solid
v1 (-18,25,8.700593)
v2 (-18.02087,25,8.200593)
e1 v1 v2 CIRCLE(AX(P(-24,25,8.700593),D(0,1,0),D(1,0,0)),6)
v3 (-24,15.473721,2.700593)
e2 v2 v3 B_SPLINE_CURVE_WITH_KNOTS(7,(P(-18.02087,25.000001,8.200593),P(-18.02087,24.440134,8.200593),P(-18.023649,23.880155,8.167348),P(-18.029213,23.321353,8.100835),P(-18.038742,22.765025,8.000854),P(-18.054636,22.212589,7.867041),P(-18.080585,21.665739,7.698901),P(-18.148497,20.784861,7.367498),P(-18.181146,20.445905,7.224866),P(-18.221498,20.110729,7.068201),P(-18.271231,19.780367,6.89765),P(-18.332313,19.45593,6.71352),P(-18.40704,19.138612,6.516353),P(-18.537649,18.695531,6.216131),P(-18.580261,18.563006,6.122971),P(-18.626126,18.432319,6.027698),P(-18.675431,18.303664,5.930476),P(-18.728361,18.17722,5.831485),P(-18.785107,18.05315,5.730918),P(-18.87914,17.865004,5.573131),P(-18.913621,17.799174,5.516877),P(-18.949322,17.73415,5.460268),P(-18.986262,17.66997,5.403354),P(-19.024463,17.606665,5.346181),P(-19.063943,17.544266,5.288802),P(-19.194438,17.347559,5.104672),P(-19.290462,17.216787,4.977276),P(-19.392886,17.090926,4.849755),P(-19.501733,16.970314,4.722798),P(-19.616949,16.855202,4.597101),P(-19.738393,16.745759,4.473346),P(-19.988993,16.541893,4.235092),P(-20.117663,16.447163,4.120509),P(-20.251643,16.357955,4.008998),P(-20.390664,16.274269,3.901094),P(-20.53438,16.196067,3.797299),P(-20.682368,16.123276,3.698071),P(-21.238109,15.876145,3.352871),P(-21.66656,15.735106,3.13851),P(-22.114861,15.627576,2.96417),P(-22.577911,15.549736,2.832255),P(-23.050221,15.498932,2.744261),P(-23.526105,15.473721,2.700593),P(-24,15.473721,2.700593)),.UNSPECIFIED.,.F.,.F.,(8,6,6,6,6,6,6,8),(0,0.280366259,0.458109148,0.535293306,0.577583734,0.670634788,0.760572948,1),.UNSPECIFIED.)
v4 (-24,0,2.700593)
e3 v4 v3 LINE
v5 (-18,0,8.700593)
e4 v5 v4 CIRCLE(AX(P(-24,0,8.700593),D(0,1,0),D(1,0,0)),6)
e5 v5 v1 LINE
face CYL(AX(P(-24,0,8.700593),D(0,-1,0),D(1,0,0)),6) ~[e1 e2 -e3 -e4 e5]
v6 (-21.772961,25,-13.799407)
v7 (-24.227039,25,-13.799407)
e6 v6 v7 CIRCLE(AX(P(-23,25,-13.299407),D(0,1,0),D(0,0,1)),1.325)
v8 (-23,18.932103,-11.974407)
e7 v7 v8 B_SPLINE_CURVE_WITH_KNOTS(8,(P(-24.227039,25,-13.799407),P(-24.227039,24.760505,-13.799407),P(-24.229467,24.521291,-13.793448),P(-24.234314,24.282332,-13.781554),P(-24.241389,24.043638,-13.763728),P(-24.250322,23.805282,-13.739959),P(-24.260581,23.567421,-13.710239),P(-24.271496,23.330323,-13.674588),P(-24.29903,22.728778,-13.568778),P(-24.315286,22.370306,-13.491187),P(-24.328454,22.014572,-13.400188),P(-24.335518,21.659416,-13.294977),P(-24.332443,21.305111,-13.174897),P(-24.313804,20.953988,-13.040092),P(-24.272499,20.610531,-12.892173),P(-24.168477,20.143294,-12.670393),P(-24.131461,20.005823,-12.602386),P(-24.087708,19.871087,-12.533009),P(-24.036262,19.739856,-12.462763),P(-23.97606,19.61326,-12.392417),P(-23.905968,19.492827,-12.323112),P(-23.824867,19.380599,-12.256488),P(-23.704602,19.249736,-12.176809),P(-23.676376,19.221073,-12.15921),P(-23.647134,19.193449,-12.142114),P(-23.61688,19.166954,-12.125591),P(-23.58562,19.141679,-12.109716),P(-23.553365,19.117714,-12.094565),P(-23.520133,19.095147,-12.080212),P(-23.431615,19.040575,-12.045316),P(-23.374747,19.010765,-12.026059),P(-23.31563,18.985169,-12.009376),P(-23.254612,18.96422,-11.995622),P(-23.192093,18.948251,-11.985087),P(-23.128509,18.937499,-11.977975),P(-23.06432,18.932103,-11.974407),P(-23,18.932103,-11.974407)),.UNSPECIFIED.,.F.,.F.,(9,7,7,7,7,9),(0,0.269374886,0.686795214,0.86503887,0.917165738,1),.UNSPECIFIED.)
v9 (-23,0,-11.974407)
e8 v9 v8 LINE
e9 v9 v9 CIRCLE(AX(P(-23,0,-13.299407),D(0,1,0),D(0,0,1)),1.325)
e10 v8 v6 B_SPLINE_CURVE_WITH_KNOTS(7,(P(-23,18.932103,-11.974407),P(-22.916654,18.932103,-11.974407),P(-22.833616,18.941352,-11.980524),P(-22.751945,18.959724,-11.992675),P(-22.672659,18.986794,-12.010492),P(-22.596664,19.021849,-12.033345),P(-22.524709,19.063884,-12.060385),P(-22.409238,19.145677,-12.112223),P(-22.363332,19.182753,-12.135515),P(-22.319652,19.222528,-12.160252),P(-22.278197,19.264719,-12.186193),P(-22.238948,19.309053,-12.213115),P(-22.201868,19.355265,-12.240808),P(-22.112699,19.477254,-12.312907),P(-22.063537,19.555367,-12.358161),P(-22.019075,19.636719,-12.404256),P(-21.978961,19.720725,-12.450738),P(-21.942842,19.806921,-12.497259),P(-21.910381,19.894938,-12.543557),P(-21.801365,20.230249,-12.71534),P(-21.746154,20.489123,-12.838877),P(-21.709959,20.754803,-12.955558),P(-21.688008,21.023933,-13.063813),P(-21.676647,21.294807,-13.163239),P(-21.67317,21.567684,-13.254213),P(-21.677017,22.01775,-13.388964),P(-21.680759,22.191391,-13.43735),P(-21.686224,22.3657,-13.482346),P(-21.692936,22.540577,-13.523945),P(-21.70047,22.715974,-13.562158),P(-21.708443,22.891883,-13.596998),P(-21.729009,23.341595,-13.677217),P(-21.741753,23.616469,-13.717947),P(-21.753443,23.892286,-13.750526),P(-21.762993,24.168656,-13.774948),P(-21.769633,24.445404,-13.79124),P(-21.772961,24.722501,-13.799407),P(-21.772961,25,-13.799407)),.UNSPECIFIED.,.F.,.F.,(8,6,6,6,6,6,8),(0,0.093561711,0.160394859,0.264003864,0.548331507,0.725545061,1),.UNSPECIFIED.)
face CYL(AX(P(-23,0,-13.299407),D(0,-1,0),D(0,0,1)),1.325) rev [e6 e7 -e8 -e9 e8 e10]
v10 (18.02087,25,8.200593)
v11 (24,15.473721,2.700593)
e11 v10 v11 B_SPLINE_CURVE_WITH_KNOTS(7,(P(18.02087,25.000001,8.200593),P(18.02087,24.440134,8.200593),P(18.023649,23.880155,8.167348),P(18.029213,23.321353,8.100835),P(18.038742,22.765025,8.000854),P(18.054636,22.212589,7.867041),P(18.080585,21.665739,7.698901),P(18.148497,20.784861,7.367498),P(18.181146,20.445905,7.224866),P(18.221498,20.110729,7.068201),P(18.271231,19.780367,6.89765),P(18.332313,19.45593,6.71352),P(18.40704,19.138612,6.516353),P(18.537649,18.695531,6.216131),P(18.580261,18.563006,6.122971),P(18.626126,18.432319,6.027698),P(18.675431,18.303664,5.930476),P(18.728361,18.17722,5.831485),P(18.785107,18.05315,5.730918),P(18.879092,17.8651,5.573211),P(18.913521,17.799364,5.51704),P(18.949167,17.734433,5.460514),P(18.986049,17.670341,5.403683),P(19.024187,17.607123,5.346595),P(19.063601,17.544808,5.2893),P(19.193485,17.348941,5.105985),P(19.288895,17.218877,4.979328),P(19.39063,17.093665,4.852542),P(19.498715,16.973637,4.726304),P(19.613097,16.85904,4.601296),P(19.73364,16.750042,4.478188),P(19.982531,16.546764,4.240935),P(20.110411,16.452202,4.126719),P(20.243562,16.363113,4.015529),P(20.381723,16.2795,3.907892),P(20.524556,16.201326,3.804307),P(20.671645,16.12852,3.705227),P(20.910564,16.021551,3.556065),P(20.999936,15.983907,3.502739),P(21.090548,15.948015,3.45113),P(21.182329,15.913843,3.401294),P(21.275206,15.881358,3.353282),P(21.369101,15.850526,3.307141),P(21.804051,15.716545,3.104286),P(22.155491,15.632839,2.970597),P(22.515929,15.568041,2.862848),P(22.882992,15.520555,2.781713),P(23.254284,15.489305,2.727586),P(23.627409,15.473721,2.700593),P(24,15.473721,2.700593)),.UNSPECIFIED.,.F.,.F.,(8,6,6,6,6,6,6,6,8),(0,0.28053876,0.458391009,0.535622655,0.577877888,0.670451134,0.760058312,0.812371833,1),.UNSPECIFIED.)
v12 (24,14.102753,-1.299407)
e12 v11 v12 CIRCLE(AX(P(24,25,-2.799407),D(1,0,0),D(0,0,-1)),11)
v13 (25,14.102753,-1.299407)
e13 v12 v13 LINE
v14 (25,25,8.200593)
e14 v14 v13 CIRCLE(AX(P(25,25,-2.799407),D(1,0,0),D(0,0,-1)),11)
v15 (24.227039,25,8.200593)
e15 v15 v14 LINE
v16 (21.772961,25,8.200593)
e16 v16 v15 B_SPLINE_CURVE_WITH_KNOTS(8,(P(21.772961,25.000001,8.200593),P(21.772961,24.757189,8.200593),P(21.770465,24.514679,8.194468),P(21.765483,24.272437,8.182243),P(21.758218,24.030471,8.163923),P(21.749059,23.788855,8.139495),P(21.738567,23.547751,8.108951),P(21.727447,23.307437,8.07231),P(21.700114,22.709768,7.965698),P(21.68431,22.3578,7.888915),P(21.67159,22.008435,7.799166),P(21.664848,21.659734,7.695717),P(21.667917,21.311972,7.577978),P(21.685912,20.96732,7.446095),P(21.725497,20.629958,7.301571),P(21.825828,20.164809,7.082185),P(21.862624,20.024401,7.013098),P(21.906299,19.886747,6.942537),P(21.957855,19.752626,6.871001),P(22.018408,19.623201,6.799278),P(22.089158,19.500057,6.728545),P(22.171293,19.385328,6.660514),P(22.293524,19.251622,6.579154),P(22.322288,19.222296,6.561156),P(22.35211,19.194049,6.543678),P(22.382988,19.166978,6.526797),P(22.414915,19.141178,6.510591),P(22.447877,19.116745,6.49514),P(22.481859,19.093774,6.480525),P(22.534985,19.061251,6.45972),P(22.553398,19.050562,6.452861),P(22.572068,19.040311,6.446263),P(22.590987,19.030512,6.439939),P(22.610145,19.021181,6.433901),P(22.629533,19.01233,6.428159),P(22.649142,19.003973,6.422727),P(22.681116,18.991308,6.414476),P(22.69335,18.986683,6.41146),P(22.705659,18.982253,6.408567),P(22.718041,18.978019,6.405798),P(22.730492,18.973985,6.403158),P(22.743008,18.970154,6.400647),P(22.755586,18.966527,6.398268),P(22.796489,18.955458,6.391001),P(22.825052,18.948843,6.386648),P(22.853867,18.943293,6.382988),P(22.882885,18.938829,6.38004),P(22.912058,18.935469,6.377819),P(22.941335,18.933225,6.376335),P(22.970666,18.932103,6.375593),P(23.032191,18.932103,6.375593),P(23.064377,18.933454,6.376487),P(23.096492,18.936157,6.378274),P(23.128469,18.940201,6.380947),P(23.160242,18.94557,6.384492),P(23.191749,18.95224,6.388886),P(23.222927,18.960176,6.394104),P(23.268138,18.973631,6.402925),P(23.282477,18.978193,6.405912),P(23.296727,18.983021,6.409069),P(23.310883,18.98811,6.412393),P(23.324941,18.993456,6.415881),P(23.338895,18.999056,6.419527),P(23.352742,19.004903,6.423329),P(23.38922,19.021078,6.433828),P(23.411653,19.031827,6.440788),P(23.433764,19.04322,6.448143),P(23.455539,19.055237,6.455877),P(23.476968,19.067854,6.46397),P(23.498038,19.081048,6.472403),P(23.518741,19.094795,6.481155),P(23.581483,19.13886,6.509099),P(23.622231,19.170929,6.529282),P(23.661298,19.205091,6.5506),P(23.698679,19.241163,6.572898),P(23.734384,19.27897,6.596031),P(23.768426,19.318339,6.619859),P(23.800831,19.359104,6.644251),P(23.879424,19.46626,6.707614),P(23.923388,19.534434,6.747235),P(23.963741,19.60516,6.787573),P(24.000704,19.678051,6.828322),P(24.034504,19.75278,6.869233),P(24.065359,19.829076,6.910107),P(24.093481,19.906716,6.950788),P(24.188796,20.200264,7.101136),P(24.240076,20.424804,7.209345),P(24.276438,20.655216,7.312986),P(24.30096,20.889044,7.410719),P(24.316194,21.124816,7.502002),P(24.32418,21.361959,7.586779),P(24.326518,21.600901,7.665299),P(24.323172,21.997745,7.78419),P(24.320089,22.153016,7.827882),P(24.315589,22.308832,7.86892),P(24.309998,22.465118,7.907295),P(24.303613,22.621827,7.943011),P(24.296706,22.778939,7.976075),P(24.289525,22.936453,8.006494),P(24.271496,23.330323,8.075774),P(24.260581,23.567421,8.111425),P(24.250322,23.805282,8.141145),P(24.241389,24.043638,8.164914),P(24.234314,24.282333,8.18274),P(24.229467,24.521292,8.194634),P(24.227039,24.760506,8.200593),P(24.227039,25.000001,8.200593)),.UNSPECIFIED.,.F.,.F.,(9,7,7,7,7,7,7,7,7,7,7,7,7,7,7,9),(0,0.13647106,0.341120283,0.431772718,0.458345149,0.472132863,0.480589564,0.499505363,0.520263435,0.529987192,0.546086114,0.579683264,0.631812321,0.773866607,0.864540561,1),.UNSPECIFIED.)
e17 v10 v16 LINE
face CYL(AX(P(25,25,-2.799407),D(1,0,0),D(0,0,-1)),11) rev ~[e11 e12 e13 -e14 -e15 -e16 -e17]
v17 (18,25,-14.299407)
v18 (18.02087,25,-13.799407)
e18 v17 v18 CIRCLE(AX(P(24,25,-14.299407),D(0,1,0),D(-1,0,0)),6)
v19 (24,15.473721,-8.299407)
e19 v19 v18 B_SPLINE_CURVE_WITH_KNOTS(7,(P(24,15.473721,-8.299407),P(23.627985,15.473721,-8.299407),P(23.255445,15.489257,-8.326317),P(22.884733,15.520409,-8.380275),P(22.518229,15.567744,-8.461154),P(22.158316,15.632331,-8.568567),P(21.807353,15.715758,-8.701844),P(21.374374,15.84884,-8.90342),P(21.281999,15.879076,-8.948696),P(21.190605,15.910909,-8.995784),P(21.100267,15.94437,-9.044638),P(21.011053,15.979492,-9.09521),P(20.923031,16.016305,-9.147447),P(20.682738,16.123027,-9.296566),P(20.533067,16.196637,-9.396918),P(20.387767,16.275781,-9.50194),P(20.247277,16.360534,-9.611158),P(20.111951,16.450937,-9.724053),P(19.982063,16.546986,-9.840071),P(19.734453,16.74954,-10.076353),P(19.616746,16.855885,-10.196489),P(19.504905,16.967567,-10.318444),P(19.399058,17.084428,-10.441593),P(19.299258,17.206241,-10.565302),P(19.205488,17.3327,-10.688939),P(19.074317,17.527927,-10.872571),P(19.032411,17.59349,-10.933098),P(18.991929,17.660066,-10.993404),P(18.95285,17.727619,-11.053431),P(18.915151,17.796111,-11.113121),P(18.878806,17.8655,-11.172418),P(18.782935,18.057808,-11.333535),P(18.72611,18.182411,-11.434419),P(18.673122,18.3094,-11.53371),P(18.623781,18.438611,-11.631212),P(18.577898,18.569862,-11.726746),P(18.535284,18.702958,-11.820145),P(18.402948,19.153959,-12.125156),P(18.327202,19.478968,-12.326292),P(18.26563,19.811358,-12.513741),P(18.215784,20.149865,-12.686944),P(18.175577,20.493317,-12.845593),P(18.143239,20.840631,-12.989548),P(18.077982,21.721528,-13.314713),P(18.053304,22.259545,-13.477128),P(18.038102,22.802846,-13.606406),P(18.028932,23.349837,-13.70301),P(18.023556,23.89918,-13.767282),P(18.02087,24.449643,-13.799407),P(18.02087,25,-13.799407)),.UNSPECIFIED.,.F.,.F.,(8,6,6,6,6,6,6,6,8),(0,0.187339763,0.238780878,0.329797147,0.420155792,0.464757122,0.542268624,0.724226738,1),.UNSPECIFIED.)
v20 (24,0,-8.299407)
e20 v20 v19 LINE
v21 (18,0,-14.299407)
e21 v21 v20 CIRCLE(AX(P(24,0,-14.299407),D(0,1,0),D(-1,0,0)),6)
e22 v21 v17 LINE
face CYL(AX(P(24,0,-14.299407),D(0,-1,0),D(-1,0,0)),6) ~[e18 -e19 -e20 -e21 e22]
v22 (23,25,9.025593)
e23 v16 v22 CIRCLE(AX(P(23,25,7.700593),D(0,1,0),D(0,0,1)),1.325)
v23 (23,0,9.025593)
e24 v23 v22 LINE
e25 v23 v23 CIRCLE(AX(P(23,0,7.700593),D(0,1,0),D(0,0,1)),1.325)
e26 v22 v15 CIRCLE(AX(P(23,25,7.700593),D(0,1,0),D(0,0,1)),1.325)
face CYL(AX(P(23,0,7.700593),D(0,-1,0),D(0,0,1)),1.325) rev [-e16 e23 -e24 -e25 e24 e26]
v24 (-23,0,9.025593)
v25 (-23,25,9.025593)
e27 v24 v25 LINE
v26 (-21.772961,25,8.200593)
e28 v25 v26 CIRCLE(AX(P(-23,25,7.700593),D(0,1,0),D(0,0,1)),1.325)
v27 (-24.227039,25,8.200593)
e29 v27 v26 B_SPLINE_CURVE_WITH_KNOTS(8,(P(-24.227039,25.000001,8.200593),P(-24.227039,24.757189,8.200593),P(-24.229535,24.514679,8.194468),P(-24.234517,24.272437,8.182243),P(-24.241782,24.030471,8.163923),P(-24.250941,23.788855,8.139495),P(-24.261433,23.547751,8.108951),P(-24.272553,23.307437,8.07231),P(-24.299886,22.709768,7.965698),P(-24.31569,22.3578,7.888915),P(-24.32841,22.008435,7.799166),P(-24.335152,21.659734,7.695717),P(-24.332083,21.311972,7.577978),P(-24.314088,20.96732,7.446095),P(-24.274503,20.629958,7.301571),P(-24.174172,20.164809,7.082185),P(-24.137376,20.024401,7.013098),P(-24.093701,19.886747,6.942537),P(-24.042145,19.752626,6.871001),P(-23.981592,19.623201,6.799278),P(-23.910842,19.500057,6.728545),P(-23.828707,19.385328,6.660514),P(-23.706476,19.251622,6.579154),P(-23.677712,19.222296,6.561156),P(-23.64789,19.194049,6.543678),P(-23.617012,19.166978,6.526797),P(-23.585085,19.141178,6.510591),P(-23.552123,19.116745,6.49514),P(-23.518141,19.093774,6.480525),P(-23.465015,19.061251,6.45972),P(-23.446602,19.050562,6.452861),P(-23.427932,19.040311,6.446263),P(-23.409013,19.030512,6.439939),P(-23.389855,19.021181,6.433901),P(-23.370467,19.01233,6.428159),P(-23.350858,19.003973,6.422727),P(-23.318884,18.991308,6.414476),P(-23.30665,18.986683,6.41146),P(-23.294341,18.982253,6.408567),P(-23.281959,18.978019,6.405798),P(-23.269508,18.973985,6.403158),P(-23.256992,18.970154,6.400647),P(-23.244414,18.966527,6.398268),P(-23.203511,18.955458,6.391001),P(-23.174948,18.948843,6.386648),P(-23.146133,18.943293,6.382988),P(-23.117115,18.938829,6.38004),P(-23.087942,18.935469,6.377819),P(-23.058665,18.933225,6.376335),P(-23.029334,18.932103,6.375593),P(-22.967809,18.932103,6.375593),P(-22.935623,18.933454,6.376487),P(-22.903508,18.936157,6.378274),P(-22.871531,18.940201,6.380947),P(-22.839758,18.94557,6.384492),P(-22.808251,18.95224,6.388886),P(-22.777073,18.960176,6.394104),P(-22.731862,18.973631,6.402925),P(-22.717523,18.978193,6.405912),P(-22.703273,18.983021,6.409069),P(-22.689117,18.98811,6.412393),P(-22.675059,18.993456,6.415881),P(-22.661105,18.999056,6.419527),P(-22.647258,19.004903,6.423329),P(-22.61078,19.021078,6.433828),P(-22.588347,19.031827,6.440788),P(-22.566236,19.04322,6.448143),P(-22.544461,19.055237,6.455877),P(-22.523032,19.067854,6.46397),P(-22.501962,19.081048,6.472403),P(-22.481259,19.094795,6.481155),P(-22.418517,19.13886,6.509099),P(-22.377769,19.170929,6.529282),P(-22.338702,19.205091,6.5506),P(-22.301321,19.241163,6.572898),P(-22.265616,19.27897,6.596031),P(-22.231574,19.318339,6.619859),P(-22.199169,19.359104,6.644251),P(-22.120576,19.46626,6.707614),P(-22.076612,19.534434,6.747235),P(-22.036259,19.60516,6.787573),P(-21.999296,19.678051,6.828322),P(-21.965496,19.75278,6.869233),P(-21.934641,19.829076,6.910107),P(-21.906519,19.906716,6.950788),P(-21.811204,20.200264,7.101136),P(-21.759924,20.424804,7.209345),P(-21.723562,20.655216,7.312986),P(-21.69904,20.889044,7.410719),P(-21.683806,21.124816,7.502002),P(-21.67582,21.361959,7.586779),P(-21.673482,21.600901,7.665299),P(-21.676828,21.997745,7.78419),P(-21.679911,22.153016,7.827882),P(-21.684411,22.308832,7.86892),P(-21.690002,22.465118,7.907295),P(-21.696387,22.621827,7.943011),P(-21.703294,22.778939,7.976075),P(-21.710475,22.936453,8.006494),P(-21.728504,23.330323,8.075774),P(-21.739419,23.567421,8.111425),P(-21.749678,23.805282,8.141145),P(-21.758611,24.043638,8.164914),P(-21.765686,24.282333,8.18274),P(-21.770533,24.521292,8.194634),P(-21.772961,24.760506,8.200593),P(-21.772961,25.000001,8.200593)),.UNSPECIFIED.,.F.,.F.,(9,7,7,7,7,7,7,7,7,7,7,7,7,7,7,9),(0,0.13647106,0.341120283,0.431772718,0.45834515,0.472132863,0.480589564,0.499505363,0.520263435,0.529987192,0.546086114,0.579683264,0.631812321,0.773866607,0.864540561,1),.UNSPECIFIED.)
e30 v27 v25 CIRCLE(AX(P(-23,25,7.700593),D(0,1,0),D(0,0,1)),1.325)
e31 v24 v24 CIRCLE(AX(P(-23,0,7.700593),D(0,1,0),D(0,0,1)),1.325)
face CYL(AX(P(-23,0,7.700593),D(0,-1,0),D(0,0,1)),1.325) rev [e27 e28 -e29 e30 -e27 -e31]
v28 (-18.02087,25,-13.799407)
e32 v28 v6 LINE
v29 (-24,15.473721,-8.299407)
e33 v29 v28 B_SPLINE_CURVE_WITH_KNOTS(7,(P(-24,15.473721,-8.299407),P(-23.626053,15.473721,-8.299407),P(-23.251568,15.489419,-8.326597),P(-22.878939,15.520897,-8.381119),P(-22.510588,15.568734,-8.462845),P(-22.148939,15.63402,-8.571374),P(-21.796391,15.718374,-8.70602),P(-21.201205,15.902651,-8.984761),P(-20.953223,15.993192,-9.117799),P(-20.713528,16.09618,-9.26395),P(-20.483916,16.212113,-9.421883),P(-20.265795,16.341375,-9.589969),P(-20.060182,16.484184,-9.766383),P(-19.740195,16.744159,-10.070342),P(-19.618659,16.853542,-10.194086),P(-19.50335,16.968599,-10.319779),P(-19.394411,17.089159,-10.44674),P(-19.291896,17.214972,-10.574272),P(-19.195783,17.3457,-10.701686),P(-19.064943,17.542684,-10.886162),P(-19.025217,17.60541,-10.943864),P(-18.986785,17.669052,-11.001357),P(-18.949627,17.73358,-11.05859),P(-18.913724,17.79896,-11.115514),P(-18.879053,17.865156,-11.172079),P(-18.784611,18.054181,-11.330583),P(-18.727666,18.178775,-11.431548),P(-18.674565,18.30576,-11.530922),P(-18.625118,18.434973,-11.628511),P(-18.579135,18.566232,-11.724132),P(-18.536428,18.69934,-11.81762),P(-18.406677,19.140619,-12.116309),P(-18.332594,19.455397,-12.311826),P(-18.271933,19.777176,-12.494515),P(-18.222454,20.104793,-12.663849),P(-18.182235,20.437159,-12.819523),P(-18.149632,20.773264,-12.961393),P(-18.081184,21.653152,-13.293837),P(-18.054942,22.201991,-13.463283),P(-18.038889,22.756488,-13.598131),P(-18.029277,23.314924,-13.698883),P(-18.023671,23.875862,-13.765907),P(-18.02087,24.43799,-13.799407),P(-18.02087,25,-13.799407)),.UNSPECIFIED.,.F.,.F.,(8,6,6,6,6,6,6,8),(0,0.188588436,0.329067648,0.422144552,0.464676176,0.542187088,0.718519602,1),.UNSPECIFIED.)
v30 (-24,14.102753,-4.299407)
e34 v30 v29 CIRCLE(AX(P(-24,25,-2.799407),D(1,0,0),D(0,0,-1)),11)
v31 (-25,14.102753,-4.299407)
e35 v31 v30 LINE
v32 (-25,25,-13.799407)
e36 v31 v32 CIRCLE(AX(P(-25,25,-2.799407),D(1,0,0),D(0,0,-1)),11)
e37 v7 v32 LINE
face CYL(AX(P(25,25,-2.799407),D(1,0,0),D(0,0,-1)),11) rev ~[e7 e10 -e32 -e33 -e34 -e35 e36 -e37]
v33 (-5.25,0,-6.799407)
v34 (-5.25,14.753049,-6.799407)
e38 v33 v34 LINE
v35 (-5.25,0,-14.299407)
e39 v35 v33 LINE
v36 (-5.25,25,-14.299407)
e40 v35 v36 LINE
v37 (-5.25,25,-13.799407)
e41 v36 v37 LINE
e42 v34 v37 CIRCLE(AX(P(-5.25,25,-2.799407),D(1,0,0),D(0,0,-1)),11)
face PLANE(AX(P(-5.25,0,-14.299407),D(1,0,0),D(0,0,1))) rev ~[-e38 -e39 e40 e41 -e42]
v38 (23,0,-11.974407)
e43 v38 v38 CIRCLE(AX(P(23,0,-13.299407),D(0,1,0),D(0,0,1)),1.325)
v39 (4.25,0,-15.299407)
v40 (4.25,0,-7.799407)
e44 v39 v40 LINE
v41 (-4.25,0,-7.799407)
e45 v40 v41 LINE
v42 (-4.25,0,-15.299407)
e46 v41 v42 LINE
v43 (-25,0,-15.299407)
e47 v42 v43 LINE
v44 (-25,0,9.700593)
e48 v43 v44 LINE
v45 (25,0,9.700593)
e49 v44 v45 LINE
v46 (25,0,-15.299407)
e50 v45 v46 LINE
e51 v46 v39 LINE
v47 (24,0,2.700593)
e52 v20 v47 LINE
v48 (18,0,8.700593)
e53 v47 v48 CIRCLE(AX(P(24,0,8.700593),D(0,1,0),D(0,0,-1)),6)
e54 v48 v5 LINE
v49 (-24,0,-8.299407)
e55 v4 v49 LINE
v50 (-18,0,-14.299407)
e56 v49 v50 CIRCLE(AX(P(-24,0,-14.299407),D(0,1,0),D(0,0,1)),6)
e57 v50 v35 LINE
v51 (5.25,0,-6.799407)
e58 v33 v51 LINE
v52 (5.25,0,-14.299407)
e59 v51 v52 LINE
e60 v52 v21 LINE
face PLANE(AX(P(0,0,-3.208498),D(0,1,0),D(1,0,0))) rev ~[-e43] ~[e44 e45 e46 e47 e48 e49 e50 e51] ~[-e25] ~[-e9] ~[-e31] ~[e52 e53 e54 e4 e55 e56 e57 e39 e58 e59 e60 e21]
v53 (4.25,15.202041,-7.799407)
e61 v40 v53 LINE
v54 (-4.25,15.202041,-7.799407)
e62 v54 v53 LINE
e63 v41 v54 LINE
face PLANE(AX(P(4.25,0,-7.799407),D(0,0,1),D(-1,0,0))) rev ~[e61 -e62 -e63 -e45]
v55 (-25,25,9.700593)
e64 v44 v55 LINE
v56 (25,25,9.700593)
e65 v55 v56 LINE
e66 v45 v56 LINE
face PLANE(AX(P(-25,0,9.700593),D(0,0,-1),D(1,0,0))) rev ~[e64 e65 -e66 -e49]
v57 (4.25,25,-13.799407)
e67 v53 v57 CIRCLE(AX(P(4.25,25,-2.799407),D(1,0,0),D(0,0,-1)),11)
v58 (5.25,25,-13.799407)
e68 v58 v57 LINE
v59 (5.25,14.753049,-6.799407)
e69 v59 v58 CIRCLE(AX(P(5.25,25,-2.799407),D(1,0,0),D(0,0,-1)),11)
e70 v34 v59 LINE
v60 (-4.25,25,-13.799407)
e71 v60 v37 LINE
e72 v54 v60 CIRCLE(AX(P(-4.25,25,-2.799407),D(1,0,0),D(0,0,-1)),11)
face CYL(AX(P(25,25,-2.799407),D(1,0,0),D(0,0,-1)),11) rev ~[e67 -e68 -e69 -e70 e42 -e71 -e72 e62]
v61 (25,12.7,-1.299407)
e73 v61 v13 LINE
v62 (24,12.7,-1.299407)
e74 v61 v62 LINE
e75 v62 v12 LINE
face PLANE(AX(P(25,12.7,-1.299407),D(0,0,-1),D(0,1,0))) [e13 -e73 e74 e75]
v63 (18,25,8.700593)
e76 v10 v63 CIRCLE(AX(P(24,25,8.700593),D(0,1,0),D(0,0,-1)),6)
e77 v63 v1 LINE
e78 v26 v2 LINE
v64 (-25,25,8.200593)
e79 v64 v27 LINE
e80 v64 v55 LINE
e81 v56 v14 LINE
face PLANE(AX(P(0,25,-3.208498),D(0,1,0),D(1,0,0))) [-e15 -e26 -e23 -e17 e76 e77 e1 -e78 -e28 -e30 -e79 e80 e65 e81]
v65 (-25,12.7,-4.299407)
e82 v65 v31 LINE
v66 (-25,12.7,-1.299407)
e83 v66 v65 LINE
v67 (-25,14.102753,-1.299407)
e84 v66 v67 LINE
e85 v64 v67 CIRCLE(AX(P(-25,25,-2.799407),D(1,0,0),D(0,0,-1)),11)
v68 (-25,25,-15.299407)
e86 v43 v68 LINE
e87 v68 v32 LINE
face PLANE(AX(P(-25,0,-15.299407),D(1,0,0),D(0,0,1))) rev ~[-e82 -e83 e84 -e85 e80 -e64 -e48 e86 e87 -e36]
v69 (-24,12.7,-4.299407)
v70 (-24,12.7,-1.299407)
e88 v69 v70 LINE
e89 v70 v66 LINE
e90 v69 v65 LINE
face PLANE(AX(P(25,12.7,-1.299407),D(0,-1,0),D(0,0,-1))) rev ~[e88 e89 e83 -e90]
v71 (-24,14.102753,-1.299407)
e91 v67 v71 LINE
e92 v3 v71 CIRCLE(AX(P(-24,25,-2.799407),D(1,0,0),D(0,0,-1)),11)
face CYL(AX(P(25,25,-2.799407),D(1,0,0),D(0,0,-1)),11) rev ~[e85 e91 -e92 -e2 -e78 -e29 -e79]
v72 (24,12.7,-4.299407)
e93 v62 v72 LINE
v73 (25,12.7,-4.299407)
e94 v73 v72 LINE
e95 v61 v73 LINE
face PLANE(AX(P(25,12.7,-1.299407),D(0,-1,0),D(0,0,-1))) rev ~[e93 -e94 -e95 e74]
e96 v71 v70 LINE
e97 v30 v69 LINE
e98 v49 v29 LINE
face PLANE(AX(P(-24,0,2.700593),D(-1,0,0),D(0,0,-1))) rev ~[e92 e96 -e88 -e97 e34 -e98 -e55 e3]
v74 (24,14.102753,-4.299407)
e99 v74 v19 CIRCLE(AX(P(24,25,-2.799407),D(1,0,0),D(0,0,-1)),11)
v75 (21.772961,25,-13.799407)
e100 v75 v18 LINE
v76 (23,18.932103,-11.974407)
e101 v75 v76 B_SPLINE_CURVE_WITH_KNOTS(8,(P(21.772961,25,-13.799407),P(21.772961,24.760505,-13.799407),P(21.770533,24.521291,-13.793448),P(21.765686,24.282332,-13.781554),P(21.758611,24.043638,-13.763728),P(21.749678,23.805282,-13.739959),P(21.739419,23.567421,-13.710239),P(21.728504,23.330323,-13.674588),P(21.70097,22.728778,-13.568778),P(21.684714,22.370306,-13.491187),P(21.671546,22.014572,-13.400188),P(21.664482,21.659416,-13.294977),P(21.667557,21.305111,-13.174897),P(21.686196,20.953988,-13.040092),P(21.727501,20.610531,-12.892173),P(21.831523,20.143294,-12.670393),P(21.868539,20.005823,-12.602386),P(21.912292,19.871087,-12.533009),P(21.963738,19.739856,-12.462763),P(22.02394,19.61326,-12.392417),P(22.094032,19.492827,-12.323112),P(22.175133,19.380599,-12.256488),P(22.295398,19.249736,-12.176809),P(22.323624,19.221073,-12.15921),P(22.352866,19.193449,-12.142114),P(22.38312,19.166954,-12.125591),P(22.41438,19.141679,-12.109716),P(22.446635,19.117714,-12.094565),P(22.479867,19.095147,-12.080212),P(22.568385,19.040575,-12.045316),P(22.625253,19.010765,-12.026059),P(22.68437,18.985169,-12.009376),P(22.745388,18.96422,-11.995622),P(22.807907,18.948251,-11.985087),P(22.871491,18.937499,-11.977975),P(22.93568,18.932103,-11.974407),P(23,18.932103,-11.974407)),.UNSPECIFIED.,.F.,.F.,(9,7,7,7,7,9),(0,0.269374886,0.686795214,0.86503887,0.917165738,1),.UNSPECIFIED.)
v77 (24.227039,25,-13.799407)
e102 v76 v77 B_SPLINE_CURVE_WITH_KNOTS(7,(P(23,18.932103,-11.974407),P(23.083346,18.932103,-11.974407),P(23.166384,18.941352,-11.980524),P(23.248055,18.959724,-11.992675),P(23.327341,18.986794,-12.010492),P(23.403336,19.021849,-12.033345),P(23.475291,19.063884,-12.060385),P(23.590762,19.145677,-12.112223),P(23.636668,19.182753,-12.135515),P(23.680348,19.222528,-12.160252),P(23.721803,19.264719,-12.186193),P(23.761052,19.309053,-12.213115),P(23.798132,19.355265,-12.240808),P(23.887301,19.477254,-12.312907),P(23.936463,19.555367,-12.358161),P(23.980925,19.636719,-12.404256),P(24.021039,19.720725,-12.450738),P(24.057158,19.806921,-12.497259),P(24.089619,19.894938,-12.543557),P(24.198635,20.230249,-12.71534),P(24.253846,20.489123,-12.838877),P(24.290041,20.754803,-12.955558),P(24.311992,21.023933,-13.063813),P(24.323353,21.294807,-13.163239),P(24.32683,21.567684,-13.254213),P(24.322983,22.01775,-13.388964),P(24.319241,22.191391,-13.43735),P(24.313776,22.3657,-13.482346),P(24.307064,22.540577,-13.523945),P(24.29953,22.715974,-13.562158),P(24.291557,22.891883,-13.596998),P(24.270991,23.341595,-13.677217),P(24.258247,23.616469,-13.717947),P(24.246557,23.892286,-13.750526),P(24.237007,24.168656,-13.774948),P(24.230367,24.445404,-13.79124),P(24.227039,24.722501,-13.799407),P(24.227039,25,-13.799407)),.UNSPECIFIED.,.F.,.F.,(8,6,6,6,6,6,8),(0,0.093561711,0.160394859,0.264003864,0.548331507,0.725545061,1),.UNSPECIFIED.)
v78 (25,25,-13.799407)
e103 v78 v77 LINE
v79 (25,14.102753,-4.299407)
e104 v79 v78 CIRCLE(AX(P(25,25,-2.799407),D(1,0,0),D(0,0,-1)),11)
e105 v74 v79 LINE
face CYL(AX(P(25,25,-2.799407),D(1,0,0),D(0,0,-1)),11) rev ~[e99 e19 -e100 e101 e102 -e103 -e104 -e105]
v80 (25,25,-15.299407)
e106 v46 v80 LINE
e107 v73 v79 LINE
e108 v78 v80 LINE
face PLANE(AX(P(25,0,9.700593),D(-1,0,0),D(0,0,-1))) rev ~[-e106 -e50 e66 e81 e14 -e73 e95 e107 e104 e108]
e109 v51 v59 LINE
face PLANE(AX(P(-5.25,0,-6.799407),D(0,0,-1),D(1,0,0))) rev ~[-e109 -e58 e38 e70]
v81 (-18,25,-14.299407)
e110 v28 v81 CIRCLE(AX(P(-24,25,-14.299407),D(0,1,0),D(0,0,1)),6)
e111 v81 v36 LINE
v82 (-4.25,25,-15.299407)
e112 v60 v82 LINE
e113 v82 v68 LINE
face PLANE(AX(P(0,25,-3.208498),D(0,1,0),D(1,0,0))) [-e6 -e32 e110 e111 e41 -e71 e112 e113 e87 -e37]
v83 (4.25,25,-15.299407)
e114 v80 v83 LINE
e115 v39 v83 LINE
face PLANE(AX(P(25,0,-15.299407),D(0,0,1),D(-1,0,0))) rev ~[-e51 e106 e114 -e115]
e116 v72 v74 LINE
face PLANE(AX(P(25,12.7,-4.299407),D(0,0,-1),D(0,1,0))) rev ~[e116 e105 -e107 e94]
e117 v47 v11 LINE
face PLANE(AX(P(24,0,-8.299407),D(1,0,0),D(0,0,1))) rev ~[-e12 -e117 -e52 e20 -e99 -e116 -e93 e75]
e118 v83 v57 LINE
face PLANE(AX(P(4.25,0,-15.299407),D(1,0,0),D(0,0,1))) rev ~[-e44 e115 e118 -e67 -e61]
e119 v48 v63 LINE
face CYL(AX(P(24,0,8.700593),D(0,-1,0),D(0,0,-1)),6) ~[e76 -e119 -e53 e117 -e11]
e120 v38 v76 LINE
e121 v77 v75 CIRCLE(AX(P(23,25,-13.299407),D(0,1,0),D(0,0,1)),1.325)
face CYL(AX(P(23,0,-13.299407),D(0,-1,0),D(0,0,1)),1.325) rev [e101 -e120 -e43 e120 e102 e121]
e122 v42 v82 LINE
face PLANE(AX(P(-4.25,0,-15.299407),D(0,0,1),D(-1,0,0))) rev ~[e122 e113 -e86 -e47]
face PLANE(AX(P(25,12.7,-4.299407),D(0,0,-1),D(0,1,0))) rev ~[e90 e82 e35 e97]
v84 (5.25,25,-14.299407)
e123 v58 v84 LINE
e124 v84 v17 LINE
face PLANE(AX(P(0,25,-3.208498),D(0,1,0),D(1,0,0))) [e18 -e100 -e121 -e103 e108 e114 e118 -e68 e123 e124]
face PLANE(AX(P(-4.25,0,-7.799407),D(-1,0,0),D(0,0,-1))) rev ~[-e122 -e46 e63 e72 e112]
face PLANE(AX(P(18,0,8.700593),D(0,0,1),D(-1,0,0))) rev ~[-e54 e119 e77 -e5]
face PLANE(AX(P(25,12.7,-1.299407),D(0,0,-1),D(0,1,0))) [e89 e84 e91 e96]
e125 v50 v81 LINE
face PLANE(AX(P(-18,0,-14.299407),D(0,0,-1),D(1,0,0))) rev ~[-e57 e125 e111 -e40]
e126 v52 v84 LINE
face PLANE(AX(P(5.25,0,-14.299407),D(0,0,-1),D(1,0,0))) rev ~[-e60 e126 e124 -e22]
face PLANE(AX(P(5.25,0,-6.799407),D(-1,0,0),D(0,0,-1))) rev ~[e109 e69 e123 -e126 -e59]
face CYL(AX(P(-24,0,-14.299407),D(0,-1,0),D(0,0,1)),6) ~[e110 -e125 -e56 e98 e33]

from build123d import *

# Parameters (mm, degrees)
SKETCH1_R           = 1.325
BOSS_EXTRUDE1_DEPTH = 25
SKETCH3_R           = 11
CUT_EXTRUDE1_DEPTH  = 58.957500418
SKETCH4_W           = 3
SKETCH4_H           = 1.5
CUT_EXTRUDE2_DEPTH  = 58.957500548


with BuildPart() as part:
    # Sketch1 → Boss-Extrude1 (new body)
    with BuildSketch(Plane(origin=(0, 0, 0), x_dir=(1, 0, 0), z_dir=(0, 1, 0))):
        Polygon((-25, -9.700592993), (25, -9.700592993), (25, 15.299407007), (4.25, 15.299407007), (4.25, 7.799407007), (-4.25, 7.799407007), (-4.25, 15.299407007), (-25, 15.299407007), align=None)
        with Locations(Location((-23, 13.299407007, 0), (0, 0, 270))):
            Circle(SKETCH1_R, mode=Mode.SUBTRACT)
        with Locations(Location((23, 13.299407007, 0), (0, 0, 270))):
            Circle(SKETCH1_R, mode=Mode.SUBTRACT)
        with Locations(Location((23, -7.700592993, 0), (0, 0, 270))):
            Circle(SKETCH1_R, mode=Mode.SUBTRACT)
        with Locations(Location((-23, -7.700592993, 0), (0, 0, 270))):
            Circle(SKETCH1_R, mode=Mode.SUBTRACT)
        with BuildLine():
            Line((-5.25, 14.299407007), (-5.25, 6.799407007))
            Line((-5.25, 6.799407007), (5.25, 6.799407007))
            Line((5.25, 6.799407007), (5.25, 14.299407007))
            Line((5.25, 14.299407007), (18, 14.299407007))
            ThreePointArc((18, 14.299407007), (19.757359313, 10.05676632), (24, 8.299407007))
            Line((24, 8.299407007), (24, -2.700592993))
            ThreePointArc((24, -2.700592993), (19.757359313, -4.457952306), (18, -8.700592993))
            Line((18, -8.700592993), (-18, -8.700592993))
            ThreePointArc((-18, -8.700592993), (-19.757359313, -4.457952306), (-24, -2.700592993))
            Line((-24, -2.700592993), (-24, 8.299407007))
            ThreePointArc((-24, 8.299407007), (-19.757359313, 10.05676632), (-18, 14.299407007))
            Line((-18, 14.299407007), (-5.25, 14.299407007))
        make_face(mode=Mode.SUBTRACT)
    extrude(amount=BOSS_EXTRUDE1_DEPTH)

    # Sketch3 → Cut-Extrude1 (cut, through all)
    with BuildSketch(Plane(origin=(25, 0, 0), x_dir=(0, 0, -1), z_dir=(1, 0, 0))):
        with Locations((2.799407007, 25)):
            Circle(SKETCH3_R)
    extrude(amount=-CUT_EXTRUDE1_DEPTH, mode=Mode.SUBTRACT)

    # Sketch4 → Cut-Extrude2 (cut, through all)
    with BuildSketch(Plane(origin=(25, 0, 0), x_dir=(0, 0, -1), z_dir=(1, 0, 0))):
        with Locations((2.799407007, 13.45)):
            Rectangle(SKETCH4_W, SKETCH4_H)
    extrude(amount=-CUT_EXTRUDE2_DEPTH, mode=Mode.SUBTRACT)


solid = part.part
